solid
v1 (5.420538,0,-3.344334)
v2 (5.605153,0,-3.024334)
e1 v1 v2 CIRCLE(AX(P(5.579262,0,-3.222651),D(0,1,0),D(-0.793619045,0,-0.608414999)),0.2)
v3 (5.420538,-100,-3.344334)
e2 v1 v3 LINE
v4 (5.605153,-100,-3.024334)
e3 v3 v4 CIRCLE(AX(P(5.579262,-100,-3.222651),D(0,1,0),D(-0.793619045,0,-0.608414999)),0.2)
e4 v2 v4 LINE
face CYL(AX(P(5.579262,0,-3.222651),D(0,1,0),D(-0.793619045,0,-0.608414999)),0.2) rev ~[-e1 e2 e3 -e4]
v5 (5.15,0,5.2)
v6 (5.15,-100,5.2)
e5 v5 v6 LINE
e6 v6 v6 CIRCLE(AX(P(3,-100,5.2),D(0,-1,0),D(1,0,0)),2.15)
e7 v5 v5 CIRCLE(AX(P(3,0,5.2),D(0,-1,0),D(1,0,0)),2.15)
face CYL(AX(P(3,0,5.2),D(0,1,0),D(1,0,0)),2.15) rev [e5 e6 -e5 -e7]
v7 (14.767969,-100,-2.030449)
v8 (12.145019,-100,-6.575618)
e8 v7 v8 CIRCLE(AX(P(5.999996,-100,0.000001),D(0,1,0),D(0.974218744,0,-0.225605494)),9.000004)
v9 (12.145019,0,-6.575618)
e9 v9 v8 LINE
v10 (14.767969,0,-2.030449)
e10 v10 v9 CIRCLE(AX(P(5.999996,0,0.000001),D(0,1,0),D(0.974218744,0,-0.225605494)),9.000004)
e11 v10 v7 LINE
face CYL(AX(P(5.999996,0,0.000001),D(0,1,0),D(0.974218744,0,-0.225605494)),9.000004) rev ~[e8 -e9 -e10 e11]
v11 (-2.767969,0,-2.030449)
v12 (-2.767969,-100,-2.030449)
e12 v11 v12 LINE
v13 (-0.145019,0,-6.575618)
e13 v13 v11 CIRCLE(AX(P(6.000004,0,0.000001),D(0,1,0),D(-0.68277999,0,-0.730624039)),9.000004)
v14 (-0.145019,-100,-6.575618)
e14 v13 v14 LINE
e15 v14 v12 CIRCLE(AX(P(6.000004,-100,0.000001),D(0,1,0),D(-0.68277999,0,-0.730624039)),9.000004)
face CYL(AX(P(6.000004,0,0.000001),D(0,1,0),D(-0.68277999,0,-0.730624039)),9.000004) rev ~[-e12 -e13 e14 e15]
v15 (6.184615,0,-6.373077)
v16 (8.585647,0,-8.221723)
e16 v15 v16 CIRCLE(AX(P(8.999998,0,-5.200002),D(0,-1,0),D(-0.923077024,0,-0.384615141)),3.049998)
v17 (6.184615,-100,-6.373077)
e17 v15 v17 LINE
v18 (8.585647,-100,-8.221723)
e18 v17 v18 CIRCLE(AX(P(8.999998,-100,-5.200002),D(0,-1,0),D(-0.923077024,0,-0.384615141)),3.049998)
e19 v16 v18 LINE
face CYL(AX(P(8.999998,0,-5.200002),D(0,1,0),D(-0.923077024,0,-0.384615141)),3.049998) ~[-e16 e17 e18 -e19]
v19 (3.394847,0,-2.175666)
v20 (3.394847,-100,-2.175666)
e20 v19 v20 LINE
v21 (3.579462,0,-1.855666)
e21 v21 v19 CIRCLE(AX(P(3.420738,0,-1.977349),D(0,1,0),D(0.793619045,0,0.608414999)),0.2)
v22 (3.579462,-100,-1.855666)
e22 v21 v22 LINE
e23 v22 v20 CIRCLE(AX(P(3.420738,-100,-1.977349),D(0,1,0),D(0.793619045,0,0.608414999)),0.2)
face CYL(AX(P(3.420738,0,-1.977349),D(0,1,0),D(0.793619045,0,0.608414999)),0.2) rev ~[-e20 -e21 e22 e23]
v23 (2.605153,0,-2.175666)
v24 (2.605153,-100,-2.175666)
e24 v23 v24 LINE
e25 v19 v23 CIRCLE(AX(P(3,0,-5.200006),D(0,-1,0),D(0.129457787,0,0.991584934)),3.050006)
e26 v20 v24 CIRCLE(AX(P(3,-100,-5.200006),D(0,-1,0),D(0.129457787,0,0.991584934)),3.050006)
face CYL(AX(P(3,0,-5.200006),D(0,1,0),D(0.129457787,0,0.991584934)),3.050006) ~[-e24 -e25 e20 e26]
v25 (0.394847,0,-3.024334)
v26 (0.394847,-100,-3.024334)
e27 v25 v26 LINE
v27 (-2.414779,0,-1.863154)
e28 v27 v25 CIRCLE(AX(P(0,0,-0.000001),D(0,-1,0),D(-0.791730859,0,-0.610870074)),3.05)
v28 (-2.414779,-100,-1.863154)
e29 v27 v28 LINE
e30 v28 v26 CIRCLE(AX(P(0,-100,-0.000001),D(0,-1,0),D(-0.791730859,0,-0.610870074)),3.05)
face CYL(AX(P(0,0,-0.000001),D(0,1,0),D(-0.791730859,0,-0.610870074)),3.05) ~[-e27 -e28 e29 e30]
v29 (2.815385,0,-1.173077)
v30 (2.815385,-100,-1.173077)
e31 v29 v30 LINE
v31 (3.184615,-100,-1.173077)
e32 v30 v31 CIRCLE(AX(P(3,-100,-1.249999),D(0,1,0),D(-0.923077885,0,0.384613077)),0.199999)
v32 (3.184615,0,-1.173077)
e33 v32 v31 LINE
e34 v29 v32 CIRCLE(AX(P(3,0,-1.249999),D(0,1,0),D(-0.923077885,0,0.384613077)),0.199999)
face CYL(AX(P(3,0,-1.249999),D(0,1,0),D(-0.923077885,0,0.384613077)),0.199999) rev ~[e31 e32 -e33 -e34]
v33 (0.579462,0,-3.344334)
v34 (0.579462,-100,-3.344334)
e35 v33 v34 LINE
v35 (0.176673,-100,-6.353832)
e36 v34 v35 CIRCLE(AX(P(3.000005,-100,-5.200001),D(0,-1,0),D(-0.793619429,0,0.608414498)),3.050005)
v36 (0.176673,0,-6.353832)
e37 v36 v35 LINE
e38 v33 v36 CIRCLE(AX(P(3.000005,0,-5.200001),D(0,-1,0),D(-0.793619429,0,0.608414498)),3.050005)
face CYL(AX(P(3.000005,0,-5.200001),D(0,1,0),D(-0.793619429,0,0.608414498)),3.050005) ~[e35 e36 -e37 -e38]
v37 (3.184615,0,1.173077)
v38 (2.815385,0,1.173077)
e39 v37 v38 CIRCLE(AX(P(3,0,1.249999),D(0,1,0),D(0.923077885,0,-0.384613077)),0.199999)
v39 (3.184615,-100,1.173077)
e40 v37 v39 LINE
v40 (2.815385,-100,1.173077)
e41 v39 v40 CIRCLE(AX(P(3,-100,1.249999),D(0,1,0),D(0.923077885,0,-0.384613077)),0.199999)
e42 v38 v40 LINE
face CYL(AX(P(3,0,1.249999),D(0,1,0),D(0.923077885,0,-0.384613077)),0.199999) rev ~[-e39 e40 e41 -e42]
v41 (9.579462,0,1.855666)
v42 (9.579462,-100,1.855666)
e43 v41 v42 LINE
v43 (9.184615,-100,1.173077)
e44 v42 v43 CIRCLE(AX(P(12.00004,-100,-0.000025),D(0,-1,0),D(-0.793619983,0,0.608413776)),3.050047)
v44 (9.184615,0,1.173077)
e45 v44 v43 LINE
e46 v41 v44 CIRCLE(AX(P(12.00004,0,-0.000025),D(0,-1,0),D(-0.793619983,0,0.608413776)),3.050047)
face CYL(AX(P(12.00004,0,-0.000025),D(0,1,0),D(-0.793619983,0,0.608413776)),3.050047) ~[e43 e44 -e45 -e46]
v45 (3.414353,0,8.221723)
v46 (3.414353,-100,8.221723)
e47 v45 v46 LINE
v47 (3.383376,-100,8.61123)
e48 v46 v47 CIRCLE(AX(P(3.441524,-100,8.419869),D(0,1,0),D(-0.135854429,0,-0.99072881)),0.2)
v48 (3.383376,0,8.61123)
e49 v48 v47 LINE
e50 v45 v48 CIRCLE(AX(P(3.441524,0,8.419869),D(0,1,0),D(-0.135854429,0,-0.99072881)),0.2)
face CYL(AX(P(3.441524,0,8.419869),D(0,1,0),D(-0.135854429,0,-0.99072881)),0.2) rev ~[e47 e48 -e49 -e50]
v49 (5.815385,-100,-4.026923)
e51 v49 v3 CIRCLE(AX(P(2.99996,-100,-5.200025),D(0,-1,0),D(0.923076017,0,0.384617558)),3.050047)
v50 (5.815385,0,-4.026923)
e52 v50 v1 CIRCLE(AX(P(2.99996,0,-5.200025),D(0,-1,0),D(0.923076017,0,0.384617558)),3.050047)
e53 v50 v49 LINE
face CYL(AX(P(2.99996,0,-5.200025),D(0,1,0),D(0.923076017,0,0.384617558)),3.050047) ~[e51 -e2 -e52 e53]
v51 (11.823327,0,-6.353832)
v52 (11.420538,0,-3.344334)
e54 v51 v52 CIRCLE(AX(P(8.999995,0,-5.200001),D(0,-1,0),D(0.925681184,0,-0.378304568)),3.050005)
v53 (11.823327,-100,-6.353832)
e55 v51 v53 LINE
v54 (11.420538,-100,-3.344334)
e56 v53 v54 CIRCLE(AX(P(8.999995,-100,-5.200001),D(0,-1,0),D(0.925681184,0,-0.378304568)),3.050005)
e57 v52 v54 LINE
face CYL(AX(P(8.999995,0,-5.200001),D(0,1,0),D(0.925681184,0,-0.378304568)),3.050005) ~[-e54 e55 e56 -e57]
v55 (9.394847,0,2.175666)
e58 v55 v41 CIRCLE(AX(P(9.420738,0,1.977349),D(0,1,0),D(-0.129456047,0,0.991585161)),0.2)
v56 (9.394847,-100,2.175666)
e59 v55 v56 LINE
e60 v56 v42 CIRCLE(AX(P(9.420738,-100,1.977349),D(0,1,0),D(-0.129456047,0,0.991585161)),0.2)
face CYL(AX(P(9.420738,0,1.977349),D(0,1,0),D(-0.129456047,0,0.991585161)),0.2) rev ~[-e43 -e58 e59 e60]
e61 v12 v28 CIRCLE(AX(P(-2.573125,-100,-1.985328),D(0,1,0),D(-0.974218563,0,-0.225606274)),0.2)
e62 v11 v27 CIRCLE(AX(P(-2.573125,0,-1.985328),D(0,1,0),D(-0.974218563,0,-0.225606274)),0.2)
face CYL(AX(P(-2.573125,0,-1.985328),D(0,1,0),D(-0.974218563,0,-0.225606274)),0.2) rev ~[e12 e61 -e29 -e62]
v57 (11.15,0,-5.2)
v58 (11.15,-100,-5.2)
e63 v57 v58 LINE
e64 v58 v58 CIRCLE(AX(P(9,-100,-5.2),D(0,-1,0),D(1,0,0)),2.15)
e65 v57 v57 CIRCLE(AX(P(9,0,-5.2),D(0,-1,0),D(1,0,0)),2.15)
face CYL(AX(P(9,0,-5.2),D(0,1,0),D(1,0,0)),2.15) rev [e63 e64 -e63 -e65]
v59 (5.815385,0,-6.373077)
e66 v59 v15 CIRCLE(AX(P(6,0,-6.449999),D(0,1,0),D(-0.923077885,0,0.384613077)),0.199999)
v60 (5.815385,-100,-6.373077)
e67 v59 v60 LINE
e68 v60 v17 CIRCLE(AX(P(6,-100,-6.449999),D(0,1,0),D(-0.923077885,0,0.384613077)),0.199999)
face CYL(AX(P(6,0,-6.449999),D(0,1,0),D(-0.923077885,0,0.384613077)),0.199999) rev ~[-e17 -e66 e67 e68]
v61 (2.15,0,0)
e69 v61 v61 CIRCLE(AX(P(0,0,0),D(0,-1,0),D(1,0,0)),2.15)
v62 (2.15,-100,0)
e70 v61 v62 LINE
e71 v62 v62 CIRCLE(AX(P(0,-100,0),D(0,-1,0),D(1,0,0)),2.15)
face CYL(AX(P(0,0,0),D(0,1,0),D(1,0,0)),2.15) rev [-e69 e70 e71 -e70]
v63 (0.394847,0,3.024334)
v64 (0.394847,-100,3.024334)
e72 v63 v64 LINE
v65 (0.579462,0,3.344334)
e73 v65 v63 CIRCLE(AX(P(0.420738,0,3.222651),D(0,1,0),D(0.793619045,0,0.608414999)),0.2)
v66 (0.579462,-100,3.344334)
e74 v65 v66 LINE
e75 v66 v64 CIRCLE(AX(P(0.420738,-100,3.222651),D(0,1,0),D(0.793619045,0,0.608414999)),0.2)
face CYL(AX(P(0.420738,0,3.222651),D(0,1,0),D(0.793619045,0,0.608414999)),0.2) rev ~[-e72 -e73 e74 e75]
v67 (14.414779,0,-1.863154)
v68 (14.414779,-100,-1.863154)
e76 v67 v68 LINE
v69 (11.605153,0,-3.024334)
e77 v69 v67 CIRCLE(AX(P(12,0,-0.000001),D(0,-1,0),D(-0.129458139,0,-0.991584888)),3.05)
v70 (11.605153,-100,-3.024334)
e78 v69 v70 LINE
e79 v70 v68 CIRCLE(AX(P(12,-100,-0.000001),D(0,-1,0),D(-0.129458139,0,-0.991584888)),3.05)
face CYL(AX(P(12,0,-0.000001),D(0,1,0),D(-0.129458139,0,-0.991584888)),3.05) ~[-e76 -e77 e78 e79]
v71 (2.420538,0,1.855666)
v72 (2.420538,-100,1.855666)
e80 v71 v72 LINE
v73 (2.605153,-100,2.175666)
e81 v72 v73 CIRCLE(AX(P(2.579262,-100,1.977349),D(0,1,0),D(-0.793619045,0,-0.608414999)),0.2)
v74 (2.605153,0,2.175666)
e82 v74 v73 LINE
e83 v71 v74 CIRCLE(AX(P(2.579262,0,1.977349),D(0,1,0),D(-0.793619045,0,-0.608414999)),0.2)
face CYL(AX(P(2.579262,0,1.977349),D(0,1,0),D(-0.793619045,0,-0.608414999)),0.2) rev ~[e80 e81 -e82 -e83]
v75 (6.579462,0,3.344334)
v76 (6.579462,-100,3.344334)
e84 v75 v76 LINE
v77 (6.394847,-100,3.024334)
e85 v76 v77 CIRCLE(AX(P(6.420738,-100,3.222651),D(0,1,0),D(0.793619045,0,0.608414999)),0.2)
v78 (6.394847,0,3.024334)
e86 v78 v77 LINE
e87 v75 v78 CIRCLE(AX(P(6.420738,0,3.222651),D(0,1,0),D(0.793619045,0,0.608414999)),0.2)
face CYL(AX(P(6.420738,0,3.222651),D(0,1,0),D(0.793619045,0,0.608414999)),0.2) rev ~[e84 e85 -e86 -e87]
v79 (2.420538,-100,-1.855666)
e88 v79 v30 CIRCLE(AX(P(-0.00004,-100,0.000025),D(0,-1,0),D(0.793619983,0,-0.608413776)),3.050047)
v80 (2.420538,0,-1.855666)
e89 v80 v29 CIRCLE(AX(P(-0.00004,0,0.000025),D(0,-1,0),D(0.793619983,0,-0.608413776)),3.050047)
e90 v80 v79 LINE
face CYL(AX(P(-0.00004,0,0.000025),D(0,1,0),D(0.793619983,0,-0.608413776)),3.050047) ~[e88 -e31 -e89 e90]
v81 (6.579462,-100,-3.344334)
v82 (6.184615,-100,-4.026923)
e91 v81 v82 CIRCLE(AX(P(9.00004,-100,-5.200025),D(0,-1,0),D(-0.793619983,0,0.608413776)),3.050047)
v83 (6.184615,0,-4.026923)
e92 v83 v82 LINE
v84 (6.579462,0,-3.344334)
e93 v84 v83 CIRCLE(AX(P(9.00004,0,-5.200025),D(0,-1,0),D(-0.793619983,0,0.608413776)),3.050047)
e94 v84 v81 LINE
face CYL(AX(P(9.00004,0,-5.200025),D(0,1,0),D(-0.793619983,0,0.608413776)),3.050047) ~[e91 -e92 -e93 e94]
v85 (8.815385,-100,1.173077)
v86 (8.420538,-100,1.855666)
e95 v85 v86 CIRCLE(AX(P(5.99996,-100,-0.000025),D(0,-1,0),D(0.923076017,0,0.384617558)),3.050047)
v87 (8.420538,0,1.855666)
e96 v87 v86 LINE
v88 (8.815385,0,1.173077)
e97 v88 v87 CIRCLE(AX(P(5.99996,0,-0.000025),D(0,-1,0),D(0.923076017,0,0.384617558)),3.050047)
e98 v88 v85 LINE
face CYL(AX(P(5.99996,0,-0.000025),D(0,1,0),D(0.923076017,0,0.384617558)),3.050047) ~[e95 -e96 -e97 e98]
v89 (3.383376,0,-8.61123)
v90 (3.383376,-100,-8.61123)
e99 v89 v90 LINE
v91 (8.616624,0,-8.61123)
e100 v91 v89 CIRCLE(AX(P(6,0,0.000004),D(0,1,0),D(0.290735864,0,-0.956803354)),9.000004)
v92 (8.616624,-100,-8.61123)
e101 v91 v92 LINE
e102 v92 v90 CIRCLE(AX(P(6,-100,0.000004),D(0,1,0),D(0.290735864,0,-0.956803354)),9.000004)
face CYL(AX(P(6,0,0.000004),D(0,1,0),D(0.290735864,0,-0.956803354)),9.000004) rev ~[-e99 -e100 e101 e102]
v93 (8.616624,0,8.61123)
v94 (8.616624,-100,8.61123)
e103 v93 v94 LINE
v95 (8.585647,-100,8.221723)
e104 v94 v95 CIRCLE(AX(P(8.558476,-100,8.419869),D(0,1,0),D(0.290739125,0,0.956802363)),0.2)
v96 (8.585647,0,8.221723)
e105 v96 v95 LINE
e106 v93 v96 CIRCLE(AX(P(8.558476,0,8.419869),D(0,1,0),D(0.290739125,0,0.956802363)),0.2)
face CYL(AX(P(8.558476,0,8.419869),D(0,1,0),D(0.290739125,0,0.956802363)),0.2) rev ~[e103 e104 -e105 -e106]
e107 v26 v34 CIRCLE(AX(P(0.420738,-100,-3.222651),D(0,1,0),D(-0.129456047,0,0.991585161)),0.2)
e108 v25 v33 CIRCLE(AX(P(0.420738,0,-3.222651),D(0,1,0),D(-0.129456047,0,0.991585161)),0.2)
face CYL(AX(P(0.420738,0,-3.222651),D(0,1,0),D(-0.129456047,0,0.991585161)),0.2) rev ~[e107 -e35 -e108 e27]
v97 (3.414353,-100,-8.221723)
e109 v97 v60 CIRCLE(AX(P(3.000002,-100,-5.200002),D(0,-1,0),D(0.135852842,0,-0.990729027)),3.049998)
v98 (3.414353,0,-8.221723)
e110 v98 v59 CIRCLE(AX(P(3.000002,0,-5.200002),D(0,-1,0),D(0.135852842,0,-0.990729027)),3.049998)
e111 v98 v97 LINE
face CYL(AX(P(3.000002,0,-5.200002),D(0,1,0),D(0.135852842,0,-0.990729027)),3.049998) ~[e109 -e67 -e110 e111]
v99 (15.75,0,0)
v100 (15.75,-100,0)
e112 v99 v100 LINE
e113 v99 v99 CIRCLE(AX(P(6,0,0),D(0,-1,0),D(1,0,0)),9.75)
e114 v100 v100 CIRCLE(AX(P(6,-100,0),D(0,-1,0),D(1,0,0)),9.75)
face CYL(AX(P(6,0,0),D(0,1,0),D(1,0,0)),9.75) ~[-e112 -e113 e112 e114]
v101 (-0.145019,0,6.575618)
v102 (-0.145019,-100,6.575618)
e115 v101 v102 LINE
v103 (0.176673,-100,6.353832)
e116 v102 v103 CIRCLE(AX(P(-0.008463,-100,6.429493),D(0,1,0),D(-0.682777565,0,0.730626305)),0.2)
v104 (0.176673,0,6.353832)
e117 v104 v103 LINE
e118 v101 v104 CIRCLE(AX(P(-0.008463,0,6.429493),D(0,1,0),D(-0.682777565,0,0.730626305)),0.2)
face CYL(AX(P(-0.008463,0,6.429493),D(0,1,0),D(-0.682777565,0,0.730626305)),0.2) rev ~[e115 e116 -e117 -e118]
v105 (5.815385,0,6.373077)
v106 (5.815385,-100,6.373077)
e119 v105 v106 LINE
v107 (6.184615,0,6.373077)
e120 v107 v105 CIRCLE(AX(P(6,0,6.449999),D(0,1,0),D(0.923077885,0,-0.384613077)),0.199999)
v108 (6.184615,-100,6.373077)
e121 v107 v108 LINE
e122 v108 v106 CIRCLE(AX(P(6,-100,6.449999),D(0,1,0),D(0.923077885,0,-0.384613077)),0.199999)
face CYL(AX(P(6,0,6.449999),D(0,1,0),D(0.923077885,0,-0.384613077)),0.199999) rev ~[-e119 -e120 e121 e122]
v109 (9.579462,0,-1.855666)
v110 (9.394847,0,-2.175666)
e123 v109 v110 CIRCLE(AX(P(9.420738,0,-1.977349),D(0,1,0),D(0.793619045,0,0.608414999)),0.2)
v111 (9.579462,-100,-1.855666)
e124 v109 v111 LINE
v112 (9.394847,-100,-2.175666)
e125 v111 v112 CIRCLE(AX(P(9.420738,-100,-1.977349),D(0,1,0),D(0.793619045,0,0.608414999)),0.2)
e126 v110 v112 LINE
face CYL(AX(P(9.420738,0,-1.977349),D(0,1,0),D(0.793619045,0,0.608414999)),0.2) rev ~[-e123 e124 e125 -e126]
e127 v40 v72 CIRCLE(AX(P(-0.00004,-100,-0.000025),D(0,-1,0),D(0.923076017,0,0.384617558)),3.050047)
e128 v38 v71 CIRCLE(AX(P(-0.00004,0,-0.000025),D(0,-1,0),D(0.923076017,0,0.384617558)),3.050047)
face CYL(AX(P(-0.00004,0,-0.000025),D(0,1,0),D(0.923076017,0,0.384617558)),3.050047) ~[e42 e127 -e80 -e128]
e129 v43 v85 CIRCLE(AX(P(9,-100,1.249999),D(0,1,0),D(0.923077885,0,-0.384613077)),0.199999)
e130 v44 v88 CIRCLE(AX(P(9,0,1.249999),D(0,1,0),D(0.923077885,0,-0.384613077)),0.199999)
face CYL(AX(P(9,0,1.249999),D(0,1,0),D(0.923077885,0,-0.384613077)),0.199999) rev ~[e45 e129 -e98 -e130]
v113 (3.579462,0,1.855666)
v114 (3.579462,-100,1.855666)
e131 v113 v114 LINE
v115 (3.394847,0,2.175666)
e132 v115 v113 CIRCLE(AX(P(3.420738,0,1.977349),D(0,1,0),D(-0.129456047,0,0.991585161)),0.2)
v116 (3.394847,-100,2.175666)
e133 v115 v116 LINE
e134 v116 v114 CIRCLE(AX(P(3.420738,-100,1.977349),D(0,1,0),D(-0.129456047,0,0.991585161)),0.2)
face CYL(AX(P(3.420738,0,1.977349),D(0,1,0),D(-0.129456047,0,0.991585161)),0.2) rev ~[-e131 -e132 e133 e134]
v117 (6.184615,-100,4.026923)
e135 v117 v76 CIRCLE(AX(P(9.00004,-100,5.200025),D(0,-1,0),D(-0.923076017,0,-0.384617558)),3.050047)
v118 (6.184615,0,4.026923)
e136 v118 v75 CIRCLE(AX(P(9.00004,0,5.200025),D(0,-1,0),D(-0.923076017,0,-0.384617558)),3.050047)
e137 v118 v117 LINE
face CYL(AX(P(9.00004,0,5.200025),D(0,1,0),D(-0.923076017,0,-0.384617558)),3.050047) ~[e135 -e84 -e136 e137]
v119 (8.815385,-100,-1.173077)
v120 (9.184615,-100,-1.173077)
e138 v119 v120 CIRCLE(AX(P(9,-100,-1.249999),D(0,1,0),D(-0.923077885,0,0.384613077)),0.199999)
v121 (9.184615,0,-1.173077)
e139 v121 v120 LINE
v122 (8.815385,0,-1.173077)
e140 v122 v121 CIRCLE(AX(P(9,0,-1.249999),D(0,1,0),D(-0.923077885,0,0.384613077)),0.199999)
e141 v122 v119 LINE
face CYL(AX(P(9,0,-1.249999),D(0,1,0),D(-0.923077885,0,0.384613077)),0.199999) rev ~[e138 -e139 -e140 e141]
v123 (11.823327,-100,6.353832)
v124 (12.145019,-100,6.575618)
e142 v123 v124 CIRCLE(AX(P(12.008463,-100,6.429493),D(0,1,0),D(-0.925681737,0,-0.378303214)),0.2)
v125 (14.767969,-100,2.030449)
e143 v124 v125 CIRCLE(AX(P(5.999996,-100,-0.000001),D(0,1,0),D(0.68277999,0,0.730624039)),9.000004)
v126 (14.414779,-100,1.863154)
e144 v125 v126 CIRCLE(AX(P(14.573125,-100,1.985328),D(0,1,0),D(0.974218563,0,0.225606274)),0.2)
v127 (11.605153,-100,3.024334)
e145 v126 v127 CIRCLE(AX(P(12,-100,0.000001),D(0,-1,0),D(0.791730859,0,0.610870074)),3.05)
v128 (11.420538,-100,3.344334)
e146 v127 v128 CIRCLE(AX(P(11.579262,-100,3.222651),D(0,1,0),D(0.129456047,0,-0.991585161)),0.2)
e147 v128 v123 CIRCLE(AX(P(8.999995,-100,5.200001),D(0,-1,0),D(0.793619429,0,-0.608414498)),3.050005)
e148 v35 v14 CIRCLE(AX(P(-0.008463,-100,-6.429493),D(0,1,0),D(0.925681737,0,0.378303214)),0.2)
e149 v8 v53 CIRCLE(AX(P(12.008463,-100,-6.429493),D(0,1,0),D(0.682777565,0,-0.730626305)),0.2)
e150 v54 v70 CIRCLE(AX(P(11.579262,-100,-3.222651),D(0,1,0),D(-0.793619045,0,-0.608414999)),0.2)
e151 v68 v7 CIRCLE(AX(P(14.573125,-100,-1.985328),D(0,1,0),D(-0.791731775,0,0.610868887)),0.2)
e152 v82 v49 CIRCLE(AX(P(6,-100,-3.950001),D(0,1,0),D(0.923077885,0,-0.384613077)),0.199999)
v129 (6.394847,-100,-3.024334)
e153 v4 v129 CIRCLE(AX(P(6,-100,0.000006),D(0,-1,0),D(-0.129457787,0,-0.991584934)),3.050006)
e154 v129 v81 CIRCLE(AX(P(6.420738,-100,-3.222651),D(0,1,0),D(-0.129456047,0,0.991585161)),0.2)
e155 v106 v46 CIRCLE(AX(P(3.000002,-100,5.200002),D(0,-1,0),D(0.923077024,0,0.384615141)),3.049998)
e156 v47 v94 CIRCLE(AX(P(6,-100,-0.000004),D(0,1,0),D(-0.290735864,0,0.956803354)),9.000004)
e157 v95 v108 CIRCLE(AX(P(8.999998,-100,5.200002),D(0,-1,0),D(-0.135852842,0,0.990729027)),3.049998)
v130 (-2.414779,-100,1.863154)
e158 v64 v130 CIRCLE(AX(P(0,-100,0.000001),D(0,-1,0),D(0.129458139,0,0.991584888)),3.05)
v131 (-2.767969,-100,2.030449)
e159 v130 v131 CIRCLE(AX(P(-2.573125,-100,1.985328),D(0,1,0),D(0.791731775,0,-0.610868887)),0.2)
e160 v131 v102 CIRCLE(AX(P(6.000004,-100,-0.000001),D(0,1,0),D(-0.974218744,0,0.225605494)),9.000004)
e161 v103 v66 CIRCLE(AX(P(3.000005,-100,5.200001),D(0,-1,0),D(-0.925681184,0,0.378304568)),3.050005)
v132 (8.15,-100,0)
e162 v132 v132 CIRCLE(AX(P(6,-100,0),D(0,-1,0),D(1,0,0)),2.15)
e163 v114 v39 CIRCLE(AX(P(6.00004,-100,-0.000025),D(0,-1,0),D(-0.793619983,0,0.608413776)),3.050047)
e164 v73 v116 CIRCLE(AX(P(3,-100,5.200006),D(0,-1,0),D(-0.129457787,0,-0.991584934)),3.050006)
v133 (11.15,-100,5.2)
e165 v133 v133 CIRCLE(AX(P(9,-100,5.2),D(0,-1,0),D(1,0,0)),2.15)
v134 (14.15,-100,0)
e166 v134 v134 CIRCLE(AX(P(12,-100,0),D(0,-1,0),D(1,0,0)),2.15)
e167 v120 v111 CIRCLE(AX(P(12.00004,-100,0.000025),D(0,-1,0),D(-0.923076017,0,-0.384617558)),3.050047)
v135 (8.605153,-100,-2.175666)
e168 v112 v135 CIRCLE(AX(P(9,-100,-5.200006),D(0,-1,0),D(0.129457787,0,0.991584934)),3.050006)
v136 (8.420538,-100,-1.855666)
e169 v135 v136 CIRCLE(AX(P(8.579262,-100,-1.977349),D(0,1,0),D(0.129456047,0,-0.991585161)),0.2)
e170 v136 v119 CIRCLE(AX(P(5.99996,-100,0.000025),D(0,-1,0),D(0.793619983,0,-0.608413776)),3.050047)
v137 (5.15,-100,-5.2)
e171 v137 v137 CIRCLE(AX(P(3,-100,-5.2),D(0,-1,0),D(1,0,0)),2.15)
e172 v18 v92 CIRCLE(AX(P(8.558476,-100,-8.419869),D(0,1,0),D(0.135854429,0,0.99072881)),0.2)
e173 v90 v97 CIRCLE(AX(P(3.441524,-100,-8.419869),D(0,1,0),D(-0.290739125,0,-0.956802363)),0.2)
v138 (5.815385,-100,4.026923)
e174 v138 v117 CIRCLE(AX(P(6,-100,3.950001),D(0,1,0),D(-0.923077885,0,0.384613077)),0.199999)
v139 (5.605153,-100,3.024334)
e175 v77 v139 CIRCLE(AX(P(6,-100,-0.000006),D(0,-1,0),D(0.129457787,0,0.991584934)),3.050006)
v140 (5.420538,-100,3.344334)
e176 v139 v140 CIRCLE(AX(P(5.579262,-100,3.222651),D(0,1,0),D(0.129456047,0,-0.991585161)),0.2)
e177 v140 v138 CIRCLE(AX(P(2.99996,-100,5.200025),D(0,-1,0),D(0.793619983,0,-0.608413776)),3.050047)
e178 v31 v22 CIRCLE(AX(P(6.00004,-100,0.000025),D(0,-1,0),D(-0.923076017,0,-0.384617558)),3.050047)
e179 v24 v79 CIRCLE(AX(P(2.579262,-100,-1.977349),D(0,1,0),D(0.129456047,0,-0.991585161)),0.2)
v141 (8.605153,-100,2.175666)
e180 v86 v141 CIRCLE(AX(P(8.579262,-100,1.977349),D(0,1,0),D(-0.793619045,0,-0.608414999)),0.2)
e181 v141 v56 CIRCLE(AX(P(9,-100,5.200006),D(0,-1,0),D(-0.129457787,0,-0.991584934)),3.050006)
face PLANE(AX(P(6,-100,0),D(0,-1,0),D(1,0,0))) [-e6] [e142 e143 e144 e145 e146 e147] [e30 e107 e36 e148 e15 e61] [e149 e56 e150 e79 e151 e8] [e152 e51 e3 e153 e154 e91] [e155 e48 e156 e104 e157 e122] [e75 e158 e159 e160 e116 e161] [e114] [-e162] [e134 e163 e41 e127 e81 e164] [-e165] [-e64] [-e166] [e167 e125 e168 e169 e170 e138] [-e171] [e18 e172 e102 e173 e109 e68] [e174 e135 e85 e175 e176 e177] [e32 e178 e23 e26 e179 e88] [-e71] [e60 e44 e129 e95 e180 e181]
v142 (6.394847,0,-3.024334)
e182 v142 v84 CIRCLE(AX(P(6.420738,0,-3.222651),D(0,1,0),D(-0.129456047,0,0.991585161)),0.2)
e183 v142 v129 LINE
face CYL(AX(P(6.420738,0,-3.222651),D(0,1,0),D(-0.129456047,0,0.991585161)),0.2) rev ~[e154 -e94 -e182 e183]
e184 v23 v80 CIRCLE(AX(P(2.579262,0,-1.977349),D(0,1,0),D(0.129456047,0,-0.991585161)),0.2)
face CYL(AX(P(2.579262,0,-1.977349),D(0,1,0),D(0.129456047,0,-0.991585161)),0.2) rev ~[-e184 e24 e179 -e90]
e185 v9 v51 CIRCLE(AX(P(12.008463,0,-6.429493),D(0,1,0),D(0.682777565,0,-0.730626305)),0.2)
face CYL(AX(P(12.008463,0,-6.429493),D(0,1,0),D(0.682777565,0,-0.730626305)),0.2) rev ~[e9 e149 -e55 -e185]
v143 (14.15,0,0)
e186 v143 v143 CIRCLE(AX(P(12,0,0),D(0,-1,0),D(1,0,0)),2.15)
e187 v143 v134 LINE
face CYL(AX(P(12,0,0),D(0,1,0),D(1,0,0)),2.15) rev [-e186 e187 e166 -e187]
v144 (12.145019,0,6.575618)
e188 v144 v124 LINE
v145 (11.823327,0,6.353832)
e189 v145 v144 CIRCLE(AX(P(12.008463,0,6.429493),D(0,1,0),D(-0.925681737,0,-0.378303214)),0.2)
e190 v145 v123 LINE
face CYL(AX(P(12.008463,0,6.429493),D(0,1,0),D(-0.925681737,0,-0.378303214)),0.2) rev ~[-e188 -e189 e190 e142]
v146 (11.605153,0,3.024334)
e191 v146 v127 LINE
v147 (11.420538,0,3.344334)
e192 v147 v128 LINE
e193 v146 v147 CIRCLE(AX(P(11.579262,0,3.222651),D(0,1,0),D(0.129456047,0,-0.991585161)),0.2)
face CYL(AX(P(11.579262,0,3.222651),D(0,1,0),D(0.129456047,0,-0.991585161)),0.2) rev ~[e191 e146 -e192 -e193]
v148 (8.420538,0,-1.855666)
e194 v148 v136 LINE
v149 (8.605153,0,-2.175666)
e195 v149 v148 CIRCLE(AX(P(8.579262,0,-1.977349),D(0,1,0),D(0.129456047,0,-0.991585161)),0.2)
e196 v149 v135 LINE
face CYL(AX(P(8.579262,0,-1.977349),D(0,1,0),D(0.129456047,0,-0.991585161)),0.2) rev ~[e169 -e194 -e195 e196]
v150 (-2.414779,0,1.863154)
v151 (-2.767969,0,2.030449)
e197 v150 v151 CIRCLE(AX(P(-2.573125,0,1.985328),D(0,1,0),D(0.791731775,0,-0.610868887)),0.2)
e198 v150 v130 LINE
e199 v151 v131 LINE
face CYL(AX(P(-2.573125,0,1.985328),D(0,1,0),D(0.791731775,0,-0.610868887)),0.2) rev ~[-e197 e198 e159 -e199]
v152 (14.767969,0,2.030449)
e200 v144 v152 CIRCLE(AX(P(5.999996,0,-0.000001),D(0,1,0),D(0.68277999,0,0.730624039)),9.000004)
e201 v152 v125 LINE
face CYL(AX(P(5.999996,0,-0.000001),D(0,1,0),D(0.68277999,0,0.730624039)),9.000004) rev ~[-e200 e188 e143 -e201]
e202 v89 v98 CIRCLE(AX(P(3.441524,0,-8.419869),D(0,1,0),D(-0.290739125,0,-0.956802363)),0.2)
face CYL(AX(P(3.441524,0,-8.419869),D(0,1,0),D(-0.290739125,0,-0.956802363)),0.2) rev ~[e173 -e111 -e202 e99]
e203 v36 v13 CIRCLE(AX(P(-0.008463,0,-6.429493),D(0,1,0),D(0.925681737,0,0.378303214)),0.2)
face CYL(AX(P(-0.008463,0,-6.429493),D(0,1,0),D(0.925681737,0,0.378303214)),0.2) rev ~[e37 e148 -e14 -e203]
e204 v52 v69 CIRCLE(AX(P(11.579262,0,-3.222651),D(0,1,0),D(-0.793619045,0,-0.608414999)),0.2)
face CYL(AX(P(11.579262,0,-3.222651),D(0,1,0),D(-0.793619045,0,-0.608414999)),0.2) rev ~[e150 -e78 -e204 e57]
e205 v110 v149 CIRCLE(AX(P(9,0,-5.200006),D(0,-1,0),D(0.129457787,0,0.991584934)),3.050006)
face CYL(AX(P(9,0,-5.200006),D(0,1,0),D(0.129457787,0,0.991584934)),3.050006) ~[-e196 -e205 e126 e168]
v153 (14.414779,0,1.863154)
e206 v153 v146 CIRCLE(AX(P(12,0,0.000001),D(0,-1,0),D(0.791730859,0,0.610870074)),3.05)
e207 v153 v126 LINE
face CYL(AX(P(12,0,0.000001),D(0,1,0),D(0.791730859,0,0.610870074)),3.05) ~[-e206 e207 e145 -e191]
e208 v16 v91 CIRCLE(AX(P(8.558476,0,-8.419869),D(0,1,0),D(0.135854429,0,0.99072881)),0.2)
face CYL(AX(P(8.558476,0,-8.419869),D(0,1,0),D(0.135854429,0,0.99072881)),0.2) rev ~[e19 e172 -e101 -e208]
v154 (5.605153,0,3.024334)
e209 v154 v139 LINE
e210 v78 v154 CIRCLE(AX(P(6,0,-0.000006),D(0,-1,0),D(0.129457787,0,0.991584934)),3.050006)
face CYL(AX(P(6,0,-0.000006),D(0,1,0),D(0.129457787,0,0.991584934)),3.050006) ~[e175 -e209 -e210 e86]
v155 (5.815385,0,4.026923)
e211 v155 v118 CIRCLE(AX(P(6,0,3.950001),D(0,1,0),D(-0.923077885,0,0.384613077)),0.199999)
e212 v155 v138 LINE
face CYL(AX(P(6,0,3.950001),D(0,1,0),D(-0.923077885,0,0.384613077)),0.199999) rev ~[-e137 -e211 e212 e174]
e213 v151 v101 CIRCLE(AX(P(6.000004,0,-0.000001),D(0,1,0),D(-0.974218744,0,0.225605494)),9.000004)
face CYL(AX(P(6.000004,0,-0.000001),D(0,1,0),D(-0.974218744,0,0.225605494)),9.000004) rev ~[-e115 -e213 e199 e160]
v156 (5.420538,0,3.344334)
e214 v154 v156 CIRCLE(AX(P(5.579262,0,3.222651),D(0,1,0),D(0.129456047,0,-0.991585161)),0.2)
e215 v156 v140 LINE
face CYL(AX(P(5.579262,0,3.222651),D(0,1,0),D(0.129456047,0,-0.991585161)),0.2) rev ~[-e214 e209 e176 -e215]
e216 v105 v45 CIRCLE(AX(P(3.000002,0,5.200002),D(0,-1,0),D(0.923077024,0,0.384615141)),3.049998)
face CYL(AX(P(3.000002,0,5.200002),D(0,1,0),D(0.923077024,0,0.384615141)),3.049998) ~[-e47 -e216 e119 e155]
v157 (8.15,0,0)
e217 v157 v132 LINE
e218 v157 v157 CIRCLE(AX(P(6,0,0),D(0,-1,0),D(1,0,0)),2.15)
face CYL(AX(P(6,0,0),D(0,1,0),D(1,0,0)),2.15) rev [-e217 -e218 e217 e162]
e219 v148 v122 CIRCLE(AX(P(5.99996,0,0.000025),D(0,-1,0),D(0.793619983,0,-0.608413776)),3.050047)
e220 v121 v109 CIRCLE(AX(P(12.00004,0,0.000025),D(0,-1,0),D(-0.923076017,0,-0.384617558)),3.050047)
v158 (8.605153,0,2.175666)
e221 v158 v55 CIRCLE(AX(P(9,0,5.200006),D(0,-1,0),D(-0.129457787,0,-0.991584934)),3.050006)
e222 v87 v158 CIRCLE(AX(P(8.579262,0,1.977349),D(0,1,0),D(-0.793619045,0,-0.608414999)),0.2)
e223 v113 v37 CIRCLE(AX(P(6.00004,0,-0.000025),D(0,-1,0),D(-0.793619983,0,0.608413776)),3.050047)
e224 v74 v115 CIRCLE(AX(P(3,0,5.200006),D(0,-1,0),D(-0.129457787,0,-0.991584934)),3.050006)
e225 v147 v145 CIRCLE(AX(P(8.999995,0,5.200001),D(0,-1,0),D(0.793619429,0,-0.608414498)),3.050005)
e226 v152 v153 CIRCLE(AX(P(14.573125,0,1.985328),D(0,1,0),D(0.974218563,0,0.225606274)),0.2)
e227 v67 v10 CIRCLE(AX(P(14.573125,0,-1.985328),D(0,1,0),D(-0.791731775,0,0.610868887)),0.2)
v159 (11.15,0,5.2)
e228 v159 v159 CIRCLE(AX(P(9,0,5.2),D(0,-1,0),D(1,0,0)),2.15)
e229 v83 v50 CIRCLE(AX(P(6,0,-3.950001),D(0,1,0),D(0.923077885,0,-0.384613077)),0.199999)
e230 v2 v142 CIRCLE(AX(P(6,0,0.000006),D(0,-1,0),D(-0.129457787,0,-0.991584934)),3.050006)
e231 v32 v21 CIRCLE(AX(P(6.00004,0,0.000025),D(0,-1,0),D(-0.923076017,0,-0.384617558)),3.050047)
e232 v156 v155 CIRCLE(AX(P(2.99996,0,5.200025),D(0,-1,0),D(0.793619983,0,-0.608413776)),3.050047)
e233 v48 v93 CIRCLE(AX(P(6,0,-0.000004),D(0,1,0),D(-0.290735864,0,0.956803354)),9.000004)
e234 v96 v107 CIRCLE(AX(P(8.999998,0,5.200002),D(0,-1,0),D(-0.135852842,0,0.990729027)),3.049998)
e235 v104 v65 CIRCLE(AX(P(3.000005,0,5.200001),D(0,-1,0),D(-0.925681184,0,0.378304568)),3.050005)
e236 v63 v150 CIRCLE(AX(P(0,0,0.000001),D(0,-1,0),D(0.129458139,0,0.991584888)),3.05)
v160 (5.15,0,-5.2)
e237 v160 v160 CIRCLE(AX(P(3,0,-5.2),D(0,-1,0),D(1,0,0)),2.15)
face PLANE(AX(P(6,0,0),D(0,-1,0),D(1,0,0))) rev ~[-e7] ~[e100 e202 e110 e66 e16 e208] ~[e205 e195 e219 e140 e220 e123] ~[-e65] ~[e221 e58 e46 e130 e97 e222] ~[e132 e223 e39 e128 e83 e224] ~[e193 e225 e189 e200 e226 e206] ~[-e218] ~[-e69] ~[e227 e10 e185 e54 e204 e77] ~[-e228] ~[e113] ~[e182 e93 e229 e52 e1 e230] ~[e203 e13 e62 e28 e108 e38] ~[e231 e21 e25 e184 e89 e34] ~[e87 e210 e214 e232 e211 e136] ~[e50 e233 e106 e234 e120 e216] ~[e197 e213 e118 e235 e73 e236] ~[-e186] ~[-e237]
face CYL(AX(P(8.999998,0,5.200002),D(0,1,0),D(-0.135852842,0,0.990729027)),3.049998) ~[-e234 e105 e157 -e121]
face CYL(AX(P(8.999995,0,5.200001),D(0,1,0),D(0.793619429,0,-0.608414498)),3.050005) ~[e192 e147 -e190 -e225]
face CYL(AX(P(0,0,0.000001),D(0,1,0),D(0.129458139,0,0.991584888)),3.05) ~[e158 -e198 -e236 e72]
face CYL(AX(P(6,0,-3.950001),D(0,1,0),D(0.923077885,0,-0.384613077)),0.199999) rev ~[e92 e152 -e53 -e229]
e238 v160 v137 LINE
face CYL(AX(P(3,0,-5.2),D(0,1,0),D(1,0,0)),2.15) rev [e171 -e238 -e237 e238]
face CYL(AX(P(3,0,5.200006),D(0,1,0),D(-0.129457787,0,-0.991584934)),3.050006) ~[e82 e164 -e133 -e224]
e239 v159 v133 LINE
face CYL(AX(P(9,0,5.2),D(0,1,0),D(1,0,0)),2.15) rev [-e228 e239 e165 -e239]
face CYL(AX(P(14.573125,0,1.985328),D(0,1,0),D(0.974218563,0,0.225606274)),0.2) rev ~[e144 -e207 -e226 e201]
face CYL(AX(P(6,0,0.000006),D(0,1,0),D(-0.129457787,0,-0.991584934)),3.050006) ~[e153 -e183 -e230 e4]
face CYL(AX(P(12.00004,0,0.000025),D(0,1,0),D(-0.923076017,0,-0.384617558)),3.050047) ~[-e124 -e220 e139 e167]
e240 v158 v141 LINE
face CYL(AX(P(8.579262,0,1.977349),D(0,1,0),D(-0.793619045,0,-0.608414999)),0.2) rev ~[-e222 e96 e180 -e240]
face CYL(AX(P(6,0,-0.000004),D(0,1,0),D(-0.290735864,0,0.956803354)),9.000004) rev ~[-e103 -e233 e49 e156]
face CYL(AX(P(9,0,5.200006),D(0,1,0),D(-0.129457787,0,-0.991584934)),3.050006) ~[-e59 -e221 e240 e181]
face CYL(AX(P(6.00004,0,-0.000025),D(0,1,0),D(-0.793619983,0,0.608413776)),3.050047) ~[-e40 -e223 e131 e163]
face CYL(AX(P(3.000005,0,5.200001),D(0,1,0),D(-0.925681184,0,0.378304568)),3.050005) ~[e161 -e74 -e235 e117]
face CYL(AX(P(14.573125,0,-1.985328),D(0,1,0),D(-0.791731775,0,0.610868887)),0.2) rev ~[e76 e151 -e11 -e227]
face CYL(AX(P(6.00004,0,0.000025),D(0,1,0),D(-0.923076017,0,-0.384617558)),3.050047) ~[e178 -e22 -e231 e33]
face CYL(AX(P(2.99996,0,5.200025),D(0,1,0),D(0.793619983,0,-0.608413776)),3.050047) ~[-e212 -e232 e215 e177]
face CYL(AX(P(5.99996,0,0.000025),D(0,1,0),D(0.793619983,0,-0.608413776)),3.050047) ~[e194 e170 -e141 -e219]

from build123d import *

# Parameters (mm, degrees)
F0_R     = 9.75
F0_R_2   = 2.15
F1_DEPTH = 100


with BuildPart() as f1:
    # F0 (on Front) → F1 (new body)
    with BuildSketch(Plane.XZ):
        with Locations((6, 0)):
            Circle(F0_R)
        with Locations((3, -5.2)):
            Circle(F0_R_2, mode=Mode.SUBTRACT)
        with BuildLine():
            ThreePointArc((0.394847, -3.024334), (0.593975, -3.122706), (0.579462, -3.344334))
            ThreePointArc((0.579462, -3.344334), (-0.023044, -4.795398), (0.176673, -6.353832))
            ThreePointArc((0.176673, -6.353832), (0.105059, -6.594152), (-0.145019, -6.575618))
            ThreePointArc((-0.145019, -6.575618), (-1.795123, -4.498451), (-2.767969, -2.030449))
            ThreePointArc((-2.767969, -2.030449), (-2.65874, -1.804579), (-2.414779, -1.863154))
            ThreePointArc((-2.414779, -1.863154), (-1.164953, -2.818756), (0.394847, -3.024334))
        make_face(mode=Mode.SUBTRACT)
        with BuildLine():
            ThreePointArc((6.394847, -3.024334), (6.593975, -3.122706), (6.579462, -3.344334))
            ThreePointArc((6.579462, -3.344334), (6.359886, -3.672814), (6.184615, -4.026923))
            ThreePointArc((6.184615, -4.026923), (6, -4.15), (5.815385, -4.026923))
            ThreePointArc((5.815385, -4.026923), (5.640114, -3.672814), (5.420538, -3.344334))
            ThreePointArc((5.420538, -3.344334), (5.406025, -3.122706), (5.605153, -3.024334))
            ThreePointArc((5.605153, -3.024334), (6, -3.05), (6.394847, -3.024334))
        make_face(mode=Mode.SUBTRACT)
        with BuildLine():
            ThreePointArc((2.815385, -1.173077), (3, -1.05), (3.184615, -1.173077))
            ThreePointArc((3.184615, -1.173077), (3.359886, -1.527186), (3.579462, -1.855666))
            ThreePointArc((3.579462, -1.855666), (3.593975, -2.077294), (3.394847, -2.175666))
            ThreePointArc((3.394847, -2.175666), (3, -2.15), (2.605153, -2.175666))
            ThreePointArc((2.605153, -2.175666), (2.406025, -2.077294), (2.420538, -1.855666))
            ThreePointArc((2.420538, -1.855666), (2.640114, -1.527186), (2.815385, -1.173077))
        make_face(mode=Mode.SUBTRACT)
        with BuildLine():
            ThreePointArc((5.815385, -6.373077), (6, -6.25), (6.184615, -6.373077))
            ThreePointArc((6.184615, -6.373077), (7.139308, -7.616677), (8.585647, -8.221723))
            ThreePointArc((8.585647, -8.221723), (8.757847, -8.404014), (8.616624, -8.61123))
            ThreePointArc((8.616624, -8.61123), (6, -9), (3.383376, -8.61123))
            ThreePointArc((3.383376, -8.61123), (3.242153, -8.404014), (3.414353, -8.221723))
            ThreePointArc((3.414353, -8.221723), (4.860692, -7.616677), (5.815385, -6.373077))
        make_face(mode=Mode.SUBTRACT)
        with Locations((9, -5.2)):
            Circle(F0_R_2, mode=Mode.SUBTRACT)
        with BuildLine():
            ThreePointArc((8.815385, -1.173077), (9, -1.05), (9.184615, -1.173077))
            ThreePointArc((9.184615, -1.173077), (9.359886, -1.527186), (9.579462, -1.855666))
            ThreePointArc((9.579462, -1.855666), (9.593975, -2.077294), (9.394847, -2.175666))
            ThreePointArc((9.394847, -2.175666), (9, -2.15), (8.605153, -2.175666))
            ThreePointArc((8.605153, -2.175666), (8.406025, -2.077294), (8.420538, -1.855666))
            ThreePointArc((8.420538, -1.855666), (8.640114, -1.527186), (8.815385, -1.173077))
        make_face(mode=Mode.SUBTRACT)
        with BuildLine():
            ThreePointArc((11.420538, -3.344334), (11.406025, -3.122706), (11.605153, -3.024334))
            ThreePointArc((11.605153, -3.024334), (13.164953, -2.818756), (14.414779, -1.863154))
            ThreePointArc((14.414779, -1.863154), (14.65874, -1.804579), (14.767969, -2.030449))
            ThreePointArc((14.767969, -2.030449), (13.795123, -4.498451), (12.145019, -6.575618))
            ThreePointArc((12.145019, -6.575618), (11.894941, -6.594152), (11.823327, -6.353832))
            ThreePointArc((11.823327, -6.353832), (12.023044, -4.795398), (11.420538, -3.344334))
        make_face(mode=Mode.SUBTRACT)
        Circle(F0_R_2, mode=Mode.SUBTRACT)
        with BuildLine():
            ThreePointArc((0.579462, 3.344334), (0.593975, 3.122706), (0.394847, 3.024334))
            ThreePointArc((0.394847, 3.024334), (-1.164953, 2.818756), (-2.414779, 1.863154))
            ThreePointArc((-2.414779, 1.863154), (-2.65874, 1.804579), (-2.767969, 2.030449))
            ThreePointArc((-2.767969, 2.030449), (-1.795123, 4.498451), (-0.145019, 6.575618))
            ThreePointArc((-0.145019, 6.575618), (0.105059, 6.594152), (0.176673, 6.353832))
            ThreePointArc((0.176673, 6.353832), (-0.023044, 4.795398), (0.579462, 3.344334))
        make_face(mode=Mode.SUBTRACT)
        with BuildLine():
            ThreePointArc((3.184615, 1.173077), (3, 1.05), (2.815385, 1.173077))
            ThreePointArc((2.815385, 1.173077), (2.640114, 1.527186), (2.420538, 1.855666))
            ThreePointArc((2.420538, 1.855666), (2.406025, 2.077294), (2.605153, 2.175666))
            ThreePointArc((2.605153, 2.175666), (3, 2.15), (3.394847, 2.175666))
            ThreePointArc((3.394847, 2.175666), (3.593975, 2.077294), (3.579462, 1.855666))
            ThreePointArc((3.579462, 1.855666), (3.359886, 1.527186), (3.184615, 1.173077))
        make_face(mode=Mode.SUBTRACT)
        with Locations((3, 5.2)):
            Circle(F0_R_2, mode=Mode.SUBTRACT)
        with Locations((6, 0)):
            Circle(F0_R_2, mode=Mode.SUBTRACT)
        with BuildLine():
            ThreePointArc((9.184615, 1.173077), (9, 1.05), (8.815385, 1.173077))
            ThreePointArc((8.815385, 1.173077), (8.640114, 1.527186), (8.420538, 1.855666))
            ThreePointArc((8.420538, 1.855666), (8.406025, 2.077294), (8.605153, 2.175666))
            ThreePointArc((8.605153, 2.175666), (9, 2.15), (9.394847, 2.175666))
            ThreePointArc((9.394847, 2.175666), (9.593975, 2.077294), (9.579462, 1.855666))
            ThreePointArc((9.579462, 1.855666), (9.359886, 1.527186), (9.184615, 1.173077))
        make_face(mode=Mode.SUBTRACT)
        with BuildLine():
            ThreePointArc((5.605153, 3.024334), (5.406025, 3.122706), (5.420538, 3.344334))
            ThreePointArc((5.420538, 3.344334), (5.640114, 3.672814), (5.815385, 4.026923))
            ThreePointArc((5.815385, 4.026923), (6, 4.15), (6.184615, 4.026923))
            ThreePointArc((6.184615, 4.026923), (6.359886, 3.672814), (6.579462, 3.344334))
            ThreePointArc((6.579462, 3.344334), (6.593975, 3.122706), (6.394847, 3.024334))
            ThreePointArc((6.394847, 3.024334), (6, 3.05), (5.605153, 3.024334))
        make_face(mode=Mode.SUBTRACT)
        with Locations((12, 0)):
            Circle(F0_R_2, mode=Mode.SUBTRACT)
        with BuildLine():
            ThreePointArc((11.605153, 3.024334), (11.406025, 3.122706), (11.420538, 3.344334))
            ThreePointArc((11.420538, 3.344334), (12.023044, 4.795398), (11.823327, 6.353832))
            ThreePointArc((11.823327, 6.353832), (11.894941, 6.594152), (12.145019, 6.575618))
            ThreePointArc((12.145019, 6.575618), (13.795123, 4.498451), (14.767969, 2.030449))
            ThreePointArc((14.767969, 2.030449), (14.65874, 1.804579), (14.414779, 1.863154))
            ThreePointArc((14.414779, 1.863154), (13.164953, 2.818756), (11.605153, 3.024334))
        make_face(mode=Mode.SUBTRACT)
        with Locations((9, 5.2)):
            Circle(F0_R_2, mode=Mode.SUBTRACT)
        with BuildLine():
            ThreePointArc((6.184615, 6.373077), (6, 6.25), (5.815385, 6.373077))
            ThreePointArc((5.815385, 6.373077), (4.860692, 7.616677), (3.414353, 8.221723))
            ThreePointArc((3.414353, 8.221723), (3.242153, 8.404014), (3.383376, 8.61123))
            ThreePointArc((3.383376, 8.61123), (6, 9), (8.616624, 8.61123))
            ThreePointArc((8.616624, 8.61123), (8.757847, 8.404014), (8.585647, 8.221723))
            ThreePointArc((8.585647, 8.221723), (7.139308, 7.616677), (6.184615, 6.373077))
        make_face(mode=Mode.SUBTRACT)
    extrude(amount=F1_DEPTH)


solid = f1.part
